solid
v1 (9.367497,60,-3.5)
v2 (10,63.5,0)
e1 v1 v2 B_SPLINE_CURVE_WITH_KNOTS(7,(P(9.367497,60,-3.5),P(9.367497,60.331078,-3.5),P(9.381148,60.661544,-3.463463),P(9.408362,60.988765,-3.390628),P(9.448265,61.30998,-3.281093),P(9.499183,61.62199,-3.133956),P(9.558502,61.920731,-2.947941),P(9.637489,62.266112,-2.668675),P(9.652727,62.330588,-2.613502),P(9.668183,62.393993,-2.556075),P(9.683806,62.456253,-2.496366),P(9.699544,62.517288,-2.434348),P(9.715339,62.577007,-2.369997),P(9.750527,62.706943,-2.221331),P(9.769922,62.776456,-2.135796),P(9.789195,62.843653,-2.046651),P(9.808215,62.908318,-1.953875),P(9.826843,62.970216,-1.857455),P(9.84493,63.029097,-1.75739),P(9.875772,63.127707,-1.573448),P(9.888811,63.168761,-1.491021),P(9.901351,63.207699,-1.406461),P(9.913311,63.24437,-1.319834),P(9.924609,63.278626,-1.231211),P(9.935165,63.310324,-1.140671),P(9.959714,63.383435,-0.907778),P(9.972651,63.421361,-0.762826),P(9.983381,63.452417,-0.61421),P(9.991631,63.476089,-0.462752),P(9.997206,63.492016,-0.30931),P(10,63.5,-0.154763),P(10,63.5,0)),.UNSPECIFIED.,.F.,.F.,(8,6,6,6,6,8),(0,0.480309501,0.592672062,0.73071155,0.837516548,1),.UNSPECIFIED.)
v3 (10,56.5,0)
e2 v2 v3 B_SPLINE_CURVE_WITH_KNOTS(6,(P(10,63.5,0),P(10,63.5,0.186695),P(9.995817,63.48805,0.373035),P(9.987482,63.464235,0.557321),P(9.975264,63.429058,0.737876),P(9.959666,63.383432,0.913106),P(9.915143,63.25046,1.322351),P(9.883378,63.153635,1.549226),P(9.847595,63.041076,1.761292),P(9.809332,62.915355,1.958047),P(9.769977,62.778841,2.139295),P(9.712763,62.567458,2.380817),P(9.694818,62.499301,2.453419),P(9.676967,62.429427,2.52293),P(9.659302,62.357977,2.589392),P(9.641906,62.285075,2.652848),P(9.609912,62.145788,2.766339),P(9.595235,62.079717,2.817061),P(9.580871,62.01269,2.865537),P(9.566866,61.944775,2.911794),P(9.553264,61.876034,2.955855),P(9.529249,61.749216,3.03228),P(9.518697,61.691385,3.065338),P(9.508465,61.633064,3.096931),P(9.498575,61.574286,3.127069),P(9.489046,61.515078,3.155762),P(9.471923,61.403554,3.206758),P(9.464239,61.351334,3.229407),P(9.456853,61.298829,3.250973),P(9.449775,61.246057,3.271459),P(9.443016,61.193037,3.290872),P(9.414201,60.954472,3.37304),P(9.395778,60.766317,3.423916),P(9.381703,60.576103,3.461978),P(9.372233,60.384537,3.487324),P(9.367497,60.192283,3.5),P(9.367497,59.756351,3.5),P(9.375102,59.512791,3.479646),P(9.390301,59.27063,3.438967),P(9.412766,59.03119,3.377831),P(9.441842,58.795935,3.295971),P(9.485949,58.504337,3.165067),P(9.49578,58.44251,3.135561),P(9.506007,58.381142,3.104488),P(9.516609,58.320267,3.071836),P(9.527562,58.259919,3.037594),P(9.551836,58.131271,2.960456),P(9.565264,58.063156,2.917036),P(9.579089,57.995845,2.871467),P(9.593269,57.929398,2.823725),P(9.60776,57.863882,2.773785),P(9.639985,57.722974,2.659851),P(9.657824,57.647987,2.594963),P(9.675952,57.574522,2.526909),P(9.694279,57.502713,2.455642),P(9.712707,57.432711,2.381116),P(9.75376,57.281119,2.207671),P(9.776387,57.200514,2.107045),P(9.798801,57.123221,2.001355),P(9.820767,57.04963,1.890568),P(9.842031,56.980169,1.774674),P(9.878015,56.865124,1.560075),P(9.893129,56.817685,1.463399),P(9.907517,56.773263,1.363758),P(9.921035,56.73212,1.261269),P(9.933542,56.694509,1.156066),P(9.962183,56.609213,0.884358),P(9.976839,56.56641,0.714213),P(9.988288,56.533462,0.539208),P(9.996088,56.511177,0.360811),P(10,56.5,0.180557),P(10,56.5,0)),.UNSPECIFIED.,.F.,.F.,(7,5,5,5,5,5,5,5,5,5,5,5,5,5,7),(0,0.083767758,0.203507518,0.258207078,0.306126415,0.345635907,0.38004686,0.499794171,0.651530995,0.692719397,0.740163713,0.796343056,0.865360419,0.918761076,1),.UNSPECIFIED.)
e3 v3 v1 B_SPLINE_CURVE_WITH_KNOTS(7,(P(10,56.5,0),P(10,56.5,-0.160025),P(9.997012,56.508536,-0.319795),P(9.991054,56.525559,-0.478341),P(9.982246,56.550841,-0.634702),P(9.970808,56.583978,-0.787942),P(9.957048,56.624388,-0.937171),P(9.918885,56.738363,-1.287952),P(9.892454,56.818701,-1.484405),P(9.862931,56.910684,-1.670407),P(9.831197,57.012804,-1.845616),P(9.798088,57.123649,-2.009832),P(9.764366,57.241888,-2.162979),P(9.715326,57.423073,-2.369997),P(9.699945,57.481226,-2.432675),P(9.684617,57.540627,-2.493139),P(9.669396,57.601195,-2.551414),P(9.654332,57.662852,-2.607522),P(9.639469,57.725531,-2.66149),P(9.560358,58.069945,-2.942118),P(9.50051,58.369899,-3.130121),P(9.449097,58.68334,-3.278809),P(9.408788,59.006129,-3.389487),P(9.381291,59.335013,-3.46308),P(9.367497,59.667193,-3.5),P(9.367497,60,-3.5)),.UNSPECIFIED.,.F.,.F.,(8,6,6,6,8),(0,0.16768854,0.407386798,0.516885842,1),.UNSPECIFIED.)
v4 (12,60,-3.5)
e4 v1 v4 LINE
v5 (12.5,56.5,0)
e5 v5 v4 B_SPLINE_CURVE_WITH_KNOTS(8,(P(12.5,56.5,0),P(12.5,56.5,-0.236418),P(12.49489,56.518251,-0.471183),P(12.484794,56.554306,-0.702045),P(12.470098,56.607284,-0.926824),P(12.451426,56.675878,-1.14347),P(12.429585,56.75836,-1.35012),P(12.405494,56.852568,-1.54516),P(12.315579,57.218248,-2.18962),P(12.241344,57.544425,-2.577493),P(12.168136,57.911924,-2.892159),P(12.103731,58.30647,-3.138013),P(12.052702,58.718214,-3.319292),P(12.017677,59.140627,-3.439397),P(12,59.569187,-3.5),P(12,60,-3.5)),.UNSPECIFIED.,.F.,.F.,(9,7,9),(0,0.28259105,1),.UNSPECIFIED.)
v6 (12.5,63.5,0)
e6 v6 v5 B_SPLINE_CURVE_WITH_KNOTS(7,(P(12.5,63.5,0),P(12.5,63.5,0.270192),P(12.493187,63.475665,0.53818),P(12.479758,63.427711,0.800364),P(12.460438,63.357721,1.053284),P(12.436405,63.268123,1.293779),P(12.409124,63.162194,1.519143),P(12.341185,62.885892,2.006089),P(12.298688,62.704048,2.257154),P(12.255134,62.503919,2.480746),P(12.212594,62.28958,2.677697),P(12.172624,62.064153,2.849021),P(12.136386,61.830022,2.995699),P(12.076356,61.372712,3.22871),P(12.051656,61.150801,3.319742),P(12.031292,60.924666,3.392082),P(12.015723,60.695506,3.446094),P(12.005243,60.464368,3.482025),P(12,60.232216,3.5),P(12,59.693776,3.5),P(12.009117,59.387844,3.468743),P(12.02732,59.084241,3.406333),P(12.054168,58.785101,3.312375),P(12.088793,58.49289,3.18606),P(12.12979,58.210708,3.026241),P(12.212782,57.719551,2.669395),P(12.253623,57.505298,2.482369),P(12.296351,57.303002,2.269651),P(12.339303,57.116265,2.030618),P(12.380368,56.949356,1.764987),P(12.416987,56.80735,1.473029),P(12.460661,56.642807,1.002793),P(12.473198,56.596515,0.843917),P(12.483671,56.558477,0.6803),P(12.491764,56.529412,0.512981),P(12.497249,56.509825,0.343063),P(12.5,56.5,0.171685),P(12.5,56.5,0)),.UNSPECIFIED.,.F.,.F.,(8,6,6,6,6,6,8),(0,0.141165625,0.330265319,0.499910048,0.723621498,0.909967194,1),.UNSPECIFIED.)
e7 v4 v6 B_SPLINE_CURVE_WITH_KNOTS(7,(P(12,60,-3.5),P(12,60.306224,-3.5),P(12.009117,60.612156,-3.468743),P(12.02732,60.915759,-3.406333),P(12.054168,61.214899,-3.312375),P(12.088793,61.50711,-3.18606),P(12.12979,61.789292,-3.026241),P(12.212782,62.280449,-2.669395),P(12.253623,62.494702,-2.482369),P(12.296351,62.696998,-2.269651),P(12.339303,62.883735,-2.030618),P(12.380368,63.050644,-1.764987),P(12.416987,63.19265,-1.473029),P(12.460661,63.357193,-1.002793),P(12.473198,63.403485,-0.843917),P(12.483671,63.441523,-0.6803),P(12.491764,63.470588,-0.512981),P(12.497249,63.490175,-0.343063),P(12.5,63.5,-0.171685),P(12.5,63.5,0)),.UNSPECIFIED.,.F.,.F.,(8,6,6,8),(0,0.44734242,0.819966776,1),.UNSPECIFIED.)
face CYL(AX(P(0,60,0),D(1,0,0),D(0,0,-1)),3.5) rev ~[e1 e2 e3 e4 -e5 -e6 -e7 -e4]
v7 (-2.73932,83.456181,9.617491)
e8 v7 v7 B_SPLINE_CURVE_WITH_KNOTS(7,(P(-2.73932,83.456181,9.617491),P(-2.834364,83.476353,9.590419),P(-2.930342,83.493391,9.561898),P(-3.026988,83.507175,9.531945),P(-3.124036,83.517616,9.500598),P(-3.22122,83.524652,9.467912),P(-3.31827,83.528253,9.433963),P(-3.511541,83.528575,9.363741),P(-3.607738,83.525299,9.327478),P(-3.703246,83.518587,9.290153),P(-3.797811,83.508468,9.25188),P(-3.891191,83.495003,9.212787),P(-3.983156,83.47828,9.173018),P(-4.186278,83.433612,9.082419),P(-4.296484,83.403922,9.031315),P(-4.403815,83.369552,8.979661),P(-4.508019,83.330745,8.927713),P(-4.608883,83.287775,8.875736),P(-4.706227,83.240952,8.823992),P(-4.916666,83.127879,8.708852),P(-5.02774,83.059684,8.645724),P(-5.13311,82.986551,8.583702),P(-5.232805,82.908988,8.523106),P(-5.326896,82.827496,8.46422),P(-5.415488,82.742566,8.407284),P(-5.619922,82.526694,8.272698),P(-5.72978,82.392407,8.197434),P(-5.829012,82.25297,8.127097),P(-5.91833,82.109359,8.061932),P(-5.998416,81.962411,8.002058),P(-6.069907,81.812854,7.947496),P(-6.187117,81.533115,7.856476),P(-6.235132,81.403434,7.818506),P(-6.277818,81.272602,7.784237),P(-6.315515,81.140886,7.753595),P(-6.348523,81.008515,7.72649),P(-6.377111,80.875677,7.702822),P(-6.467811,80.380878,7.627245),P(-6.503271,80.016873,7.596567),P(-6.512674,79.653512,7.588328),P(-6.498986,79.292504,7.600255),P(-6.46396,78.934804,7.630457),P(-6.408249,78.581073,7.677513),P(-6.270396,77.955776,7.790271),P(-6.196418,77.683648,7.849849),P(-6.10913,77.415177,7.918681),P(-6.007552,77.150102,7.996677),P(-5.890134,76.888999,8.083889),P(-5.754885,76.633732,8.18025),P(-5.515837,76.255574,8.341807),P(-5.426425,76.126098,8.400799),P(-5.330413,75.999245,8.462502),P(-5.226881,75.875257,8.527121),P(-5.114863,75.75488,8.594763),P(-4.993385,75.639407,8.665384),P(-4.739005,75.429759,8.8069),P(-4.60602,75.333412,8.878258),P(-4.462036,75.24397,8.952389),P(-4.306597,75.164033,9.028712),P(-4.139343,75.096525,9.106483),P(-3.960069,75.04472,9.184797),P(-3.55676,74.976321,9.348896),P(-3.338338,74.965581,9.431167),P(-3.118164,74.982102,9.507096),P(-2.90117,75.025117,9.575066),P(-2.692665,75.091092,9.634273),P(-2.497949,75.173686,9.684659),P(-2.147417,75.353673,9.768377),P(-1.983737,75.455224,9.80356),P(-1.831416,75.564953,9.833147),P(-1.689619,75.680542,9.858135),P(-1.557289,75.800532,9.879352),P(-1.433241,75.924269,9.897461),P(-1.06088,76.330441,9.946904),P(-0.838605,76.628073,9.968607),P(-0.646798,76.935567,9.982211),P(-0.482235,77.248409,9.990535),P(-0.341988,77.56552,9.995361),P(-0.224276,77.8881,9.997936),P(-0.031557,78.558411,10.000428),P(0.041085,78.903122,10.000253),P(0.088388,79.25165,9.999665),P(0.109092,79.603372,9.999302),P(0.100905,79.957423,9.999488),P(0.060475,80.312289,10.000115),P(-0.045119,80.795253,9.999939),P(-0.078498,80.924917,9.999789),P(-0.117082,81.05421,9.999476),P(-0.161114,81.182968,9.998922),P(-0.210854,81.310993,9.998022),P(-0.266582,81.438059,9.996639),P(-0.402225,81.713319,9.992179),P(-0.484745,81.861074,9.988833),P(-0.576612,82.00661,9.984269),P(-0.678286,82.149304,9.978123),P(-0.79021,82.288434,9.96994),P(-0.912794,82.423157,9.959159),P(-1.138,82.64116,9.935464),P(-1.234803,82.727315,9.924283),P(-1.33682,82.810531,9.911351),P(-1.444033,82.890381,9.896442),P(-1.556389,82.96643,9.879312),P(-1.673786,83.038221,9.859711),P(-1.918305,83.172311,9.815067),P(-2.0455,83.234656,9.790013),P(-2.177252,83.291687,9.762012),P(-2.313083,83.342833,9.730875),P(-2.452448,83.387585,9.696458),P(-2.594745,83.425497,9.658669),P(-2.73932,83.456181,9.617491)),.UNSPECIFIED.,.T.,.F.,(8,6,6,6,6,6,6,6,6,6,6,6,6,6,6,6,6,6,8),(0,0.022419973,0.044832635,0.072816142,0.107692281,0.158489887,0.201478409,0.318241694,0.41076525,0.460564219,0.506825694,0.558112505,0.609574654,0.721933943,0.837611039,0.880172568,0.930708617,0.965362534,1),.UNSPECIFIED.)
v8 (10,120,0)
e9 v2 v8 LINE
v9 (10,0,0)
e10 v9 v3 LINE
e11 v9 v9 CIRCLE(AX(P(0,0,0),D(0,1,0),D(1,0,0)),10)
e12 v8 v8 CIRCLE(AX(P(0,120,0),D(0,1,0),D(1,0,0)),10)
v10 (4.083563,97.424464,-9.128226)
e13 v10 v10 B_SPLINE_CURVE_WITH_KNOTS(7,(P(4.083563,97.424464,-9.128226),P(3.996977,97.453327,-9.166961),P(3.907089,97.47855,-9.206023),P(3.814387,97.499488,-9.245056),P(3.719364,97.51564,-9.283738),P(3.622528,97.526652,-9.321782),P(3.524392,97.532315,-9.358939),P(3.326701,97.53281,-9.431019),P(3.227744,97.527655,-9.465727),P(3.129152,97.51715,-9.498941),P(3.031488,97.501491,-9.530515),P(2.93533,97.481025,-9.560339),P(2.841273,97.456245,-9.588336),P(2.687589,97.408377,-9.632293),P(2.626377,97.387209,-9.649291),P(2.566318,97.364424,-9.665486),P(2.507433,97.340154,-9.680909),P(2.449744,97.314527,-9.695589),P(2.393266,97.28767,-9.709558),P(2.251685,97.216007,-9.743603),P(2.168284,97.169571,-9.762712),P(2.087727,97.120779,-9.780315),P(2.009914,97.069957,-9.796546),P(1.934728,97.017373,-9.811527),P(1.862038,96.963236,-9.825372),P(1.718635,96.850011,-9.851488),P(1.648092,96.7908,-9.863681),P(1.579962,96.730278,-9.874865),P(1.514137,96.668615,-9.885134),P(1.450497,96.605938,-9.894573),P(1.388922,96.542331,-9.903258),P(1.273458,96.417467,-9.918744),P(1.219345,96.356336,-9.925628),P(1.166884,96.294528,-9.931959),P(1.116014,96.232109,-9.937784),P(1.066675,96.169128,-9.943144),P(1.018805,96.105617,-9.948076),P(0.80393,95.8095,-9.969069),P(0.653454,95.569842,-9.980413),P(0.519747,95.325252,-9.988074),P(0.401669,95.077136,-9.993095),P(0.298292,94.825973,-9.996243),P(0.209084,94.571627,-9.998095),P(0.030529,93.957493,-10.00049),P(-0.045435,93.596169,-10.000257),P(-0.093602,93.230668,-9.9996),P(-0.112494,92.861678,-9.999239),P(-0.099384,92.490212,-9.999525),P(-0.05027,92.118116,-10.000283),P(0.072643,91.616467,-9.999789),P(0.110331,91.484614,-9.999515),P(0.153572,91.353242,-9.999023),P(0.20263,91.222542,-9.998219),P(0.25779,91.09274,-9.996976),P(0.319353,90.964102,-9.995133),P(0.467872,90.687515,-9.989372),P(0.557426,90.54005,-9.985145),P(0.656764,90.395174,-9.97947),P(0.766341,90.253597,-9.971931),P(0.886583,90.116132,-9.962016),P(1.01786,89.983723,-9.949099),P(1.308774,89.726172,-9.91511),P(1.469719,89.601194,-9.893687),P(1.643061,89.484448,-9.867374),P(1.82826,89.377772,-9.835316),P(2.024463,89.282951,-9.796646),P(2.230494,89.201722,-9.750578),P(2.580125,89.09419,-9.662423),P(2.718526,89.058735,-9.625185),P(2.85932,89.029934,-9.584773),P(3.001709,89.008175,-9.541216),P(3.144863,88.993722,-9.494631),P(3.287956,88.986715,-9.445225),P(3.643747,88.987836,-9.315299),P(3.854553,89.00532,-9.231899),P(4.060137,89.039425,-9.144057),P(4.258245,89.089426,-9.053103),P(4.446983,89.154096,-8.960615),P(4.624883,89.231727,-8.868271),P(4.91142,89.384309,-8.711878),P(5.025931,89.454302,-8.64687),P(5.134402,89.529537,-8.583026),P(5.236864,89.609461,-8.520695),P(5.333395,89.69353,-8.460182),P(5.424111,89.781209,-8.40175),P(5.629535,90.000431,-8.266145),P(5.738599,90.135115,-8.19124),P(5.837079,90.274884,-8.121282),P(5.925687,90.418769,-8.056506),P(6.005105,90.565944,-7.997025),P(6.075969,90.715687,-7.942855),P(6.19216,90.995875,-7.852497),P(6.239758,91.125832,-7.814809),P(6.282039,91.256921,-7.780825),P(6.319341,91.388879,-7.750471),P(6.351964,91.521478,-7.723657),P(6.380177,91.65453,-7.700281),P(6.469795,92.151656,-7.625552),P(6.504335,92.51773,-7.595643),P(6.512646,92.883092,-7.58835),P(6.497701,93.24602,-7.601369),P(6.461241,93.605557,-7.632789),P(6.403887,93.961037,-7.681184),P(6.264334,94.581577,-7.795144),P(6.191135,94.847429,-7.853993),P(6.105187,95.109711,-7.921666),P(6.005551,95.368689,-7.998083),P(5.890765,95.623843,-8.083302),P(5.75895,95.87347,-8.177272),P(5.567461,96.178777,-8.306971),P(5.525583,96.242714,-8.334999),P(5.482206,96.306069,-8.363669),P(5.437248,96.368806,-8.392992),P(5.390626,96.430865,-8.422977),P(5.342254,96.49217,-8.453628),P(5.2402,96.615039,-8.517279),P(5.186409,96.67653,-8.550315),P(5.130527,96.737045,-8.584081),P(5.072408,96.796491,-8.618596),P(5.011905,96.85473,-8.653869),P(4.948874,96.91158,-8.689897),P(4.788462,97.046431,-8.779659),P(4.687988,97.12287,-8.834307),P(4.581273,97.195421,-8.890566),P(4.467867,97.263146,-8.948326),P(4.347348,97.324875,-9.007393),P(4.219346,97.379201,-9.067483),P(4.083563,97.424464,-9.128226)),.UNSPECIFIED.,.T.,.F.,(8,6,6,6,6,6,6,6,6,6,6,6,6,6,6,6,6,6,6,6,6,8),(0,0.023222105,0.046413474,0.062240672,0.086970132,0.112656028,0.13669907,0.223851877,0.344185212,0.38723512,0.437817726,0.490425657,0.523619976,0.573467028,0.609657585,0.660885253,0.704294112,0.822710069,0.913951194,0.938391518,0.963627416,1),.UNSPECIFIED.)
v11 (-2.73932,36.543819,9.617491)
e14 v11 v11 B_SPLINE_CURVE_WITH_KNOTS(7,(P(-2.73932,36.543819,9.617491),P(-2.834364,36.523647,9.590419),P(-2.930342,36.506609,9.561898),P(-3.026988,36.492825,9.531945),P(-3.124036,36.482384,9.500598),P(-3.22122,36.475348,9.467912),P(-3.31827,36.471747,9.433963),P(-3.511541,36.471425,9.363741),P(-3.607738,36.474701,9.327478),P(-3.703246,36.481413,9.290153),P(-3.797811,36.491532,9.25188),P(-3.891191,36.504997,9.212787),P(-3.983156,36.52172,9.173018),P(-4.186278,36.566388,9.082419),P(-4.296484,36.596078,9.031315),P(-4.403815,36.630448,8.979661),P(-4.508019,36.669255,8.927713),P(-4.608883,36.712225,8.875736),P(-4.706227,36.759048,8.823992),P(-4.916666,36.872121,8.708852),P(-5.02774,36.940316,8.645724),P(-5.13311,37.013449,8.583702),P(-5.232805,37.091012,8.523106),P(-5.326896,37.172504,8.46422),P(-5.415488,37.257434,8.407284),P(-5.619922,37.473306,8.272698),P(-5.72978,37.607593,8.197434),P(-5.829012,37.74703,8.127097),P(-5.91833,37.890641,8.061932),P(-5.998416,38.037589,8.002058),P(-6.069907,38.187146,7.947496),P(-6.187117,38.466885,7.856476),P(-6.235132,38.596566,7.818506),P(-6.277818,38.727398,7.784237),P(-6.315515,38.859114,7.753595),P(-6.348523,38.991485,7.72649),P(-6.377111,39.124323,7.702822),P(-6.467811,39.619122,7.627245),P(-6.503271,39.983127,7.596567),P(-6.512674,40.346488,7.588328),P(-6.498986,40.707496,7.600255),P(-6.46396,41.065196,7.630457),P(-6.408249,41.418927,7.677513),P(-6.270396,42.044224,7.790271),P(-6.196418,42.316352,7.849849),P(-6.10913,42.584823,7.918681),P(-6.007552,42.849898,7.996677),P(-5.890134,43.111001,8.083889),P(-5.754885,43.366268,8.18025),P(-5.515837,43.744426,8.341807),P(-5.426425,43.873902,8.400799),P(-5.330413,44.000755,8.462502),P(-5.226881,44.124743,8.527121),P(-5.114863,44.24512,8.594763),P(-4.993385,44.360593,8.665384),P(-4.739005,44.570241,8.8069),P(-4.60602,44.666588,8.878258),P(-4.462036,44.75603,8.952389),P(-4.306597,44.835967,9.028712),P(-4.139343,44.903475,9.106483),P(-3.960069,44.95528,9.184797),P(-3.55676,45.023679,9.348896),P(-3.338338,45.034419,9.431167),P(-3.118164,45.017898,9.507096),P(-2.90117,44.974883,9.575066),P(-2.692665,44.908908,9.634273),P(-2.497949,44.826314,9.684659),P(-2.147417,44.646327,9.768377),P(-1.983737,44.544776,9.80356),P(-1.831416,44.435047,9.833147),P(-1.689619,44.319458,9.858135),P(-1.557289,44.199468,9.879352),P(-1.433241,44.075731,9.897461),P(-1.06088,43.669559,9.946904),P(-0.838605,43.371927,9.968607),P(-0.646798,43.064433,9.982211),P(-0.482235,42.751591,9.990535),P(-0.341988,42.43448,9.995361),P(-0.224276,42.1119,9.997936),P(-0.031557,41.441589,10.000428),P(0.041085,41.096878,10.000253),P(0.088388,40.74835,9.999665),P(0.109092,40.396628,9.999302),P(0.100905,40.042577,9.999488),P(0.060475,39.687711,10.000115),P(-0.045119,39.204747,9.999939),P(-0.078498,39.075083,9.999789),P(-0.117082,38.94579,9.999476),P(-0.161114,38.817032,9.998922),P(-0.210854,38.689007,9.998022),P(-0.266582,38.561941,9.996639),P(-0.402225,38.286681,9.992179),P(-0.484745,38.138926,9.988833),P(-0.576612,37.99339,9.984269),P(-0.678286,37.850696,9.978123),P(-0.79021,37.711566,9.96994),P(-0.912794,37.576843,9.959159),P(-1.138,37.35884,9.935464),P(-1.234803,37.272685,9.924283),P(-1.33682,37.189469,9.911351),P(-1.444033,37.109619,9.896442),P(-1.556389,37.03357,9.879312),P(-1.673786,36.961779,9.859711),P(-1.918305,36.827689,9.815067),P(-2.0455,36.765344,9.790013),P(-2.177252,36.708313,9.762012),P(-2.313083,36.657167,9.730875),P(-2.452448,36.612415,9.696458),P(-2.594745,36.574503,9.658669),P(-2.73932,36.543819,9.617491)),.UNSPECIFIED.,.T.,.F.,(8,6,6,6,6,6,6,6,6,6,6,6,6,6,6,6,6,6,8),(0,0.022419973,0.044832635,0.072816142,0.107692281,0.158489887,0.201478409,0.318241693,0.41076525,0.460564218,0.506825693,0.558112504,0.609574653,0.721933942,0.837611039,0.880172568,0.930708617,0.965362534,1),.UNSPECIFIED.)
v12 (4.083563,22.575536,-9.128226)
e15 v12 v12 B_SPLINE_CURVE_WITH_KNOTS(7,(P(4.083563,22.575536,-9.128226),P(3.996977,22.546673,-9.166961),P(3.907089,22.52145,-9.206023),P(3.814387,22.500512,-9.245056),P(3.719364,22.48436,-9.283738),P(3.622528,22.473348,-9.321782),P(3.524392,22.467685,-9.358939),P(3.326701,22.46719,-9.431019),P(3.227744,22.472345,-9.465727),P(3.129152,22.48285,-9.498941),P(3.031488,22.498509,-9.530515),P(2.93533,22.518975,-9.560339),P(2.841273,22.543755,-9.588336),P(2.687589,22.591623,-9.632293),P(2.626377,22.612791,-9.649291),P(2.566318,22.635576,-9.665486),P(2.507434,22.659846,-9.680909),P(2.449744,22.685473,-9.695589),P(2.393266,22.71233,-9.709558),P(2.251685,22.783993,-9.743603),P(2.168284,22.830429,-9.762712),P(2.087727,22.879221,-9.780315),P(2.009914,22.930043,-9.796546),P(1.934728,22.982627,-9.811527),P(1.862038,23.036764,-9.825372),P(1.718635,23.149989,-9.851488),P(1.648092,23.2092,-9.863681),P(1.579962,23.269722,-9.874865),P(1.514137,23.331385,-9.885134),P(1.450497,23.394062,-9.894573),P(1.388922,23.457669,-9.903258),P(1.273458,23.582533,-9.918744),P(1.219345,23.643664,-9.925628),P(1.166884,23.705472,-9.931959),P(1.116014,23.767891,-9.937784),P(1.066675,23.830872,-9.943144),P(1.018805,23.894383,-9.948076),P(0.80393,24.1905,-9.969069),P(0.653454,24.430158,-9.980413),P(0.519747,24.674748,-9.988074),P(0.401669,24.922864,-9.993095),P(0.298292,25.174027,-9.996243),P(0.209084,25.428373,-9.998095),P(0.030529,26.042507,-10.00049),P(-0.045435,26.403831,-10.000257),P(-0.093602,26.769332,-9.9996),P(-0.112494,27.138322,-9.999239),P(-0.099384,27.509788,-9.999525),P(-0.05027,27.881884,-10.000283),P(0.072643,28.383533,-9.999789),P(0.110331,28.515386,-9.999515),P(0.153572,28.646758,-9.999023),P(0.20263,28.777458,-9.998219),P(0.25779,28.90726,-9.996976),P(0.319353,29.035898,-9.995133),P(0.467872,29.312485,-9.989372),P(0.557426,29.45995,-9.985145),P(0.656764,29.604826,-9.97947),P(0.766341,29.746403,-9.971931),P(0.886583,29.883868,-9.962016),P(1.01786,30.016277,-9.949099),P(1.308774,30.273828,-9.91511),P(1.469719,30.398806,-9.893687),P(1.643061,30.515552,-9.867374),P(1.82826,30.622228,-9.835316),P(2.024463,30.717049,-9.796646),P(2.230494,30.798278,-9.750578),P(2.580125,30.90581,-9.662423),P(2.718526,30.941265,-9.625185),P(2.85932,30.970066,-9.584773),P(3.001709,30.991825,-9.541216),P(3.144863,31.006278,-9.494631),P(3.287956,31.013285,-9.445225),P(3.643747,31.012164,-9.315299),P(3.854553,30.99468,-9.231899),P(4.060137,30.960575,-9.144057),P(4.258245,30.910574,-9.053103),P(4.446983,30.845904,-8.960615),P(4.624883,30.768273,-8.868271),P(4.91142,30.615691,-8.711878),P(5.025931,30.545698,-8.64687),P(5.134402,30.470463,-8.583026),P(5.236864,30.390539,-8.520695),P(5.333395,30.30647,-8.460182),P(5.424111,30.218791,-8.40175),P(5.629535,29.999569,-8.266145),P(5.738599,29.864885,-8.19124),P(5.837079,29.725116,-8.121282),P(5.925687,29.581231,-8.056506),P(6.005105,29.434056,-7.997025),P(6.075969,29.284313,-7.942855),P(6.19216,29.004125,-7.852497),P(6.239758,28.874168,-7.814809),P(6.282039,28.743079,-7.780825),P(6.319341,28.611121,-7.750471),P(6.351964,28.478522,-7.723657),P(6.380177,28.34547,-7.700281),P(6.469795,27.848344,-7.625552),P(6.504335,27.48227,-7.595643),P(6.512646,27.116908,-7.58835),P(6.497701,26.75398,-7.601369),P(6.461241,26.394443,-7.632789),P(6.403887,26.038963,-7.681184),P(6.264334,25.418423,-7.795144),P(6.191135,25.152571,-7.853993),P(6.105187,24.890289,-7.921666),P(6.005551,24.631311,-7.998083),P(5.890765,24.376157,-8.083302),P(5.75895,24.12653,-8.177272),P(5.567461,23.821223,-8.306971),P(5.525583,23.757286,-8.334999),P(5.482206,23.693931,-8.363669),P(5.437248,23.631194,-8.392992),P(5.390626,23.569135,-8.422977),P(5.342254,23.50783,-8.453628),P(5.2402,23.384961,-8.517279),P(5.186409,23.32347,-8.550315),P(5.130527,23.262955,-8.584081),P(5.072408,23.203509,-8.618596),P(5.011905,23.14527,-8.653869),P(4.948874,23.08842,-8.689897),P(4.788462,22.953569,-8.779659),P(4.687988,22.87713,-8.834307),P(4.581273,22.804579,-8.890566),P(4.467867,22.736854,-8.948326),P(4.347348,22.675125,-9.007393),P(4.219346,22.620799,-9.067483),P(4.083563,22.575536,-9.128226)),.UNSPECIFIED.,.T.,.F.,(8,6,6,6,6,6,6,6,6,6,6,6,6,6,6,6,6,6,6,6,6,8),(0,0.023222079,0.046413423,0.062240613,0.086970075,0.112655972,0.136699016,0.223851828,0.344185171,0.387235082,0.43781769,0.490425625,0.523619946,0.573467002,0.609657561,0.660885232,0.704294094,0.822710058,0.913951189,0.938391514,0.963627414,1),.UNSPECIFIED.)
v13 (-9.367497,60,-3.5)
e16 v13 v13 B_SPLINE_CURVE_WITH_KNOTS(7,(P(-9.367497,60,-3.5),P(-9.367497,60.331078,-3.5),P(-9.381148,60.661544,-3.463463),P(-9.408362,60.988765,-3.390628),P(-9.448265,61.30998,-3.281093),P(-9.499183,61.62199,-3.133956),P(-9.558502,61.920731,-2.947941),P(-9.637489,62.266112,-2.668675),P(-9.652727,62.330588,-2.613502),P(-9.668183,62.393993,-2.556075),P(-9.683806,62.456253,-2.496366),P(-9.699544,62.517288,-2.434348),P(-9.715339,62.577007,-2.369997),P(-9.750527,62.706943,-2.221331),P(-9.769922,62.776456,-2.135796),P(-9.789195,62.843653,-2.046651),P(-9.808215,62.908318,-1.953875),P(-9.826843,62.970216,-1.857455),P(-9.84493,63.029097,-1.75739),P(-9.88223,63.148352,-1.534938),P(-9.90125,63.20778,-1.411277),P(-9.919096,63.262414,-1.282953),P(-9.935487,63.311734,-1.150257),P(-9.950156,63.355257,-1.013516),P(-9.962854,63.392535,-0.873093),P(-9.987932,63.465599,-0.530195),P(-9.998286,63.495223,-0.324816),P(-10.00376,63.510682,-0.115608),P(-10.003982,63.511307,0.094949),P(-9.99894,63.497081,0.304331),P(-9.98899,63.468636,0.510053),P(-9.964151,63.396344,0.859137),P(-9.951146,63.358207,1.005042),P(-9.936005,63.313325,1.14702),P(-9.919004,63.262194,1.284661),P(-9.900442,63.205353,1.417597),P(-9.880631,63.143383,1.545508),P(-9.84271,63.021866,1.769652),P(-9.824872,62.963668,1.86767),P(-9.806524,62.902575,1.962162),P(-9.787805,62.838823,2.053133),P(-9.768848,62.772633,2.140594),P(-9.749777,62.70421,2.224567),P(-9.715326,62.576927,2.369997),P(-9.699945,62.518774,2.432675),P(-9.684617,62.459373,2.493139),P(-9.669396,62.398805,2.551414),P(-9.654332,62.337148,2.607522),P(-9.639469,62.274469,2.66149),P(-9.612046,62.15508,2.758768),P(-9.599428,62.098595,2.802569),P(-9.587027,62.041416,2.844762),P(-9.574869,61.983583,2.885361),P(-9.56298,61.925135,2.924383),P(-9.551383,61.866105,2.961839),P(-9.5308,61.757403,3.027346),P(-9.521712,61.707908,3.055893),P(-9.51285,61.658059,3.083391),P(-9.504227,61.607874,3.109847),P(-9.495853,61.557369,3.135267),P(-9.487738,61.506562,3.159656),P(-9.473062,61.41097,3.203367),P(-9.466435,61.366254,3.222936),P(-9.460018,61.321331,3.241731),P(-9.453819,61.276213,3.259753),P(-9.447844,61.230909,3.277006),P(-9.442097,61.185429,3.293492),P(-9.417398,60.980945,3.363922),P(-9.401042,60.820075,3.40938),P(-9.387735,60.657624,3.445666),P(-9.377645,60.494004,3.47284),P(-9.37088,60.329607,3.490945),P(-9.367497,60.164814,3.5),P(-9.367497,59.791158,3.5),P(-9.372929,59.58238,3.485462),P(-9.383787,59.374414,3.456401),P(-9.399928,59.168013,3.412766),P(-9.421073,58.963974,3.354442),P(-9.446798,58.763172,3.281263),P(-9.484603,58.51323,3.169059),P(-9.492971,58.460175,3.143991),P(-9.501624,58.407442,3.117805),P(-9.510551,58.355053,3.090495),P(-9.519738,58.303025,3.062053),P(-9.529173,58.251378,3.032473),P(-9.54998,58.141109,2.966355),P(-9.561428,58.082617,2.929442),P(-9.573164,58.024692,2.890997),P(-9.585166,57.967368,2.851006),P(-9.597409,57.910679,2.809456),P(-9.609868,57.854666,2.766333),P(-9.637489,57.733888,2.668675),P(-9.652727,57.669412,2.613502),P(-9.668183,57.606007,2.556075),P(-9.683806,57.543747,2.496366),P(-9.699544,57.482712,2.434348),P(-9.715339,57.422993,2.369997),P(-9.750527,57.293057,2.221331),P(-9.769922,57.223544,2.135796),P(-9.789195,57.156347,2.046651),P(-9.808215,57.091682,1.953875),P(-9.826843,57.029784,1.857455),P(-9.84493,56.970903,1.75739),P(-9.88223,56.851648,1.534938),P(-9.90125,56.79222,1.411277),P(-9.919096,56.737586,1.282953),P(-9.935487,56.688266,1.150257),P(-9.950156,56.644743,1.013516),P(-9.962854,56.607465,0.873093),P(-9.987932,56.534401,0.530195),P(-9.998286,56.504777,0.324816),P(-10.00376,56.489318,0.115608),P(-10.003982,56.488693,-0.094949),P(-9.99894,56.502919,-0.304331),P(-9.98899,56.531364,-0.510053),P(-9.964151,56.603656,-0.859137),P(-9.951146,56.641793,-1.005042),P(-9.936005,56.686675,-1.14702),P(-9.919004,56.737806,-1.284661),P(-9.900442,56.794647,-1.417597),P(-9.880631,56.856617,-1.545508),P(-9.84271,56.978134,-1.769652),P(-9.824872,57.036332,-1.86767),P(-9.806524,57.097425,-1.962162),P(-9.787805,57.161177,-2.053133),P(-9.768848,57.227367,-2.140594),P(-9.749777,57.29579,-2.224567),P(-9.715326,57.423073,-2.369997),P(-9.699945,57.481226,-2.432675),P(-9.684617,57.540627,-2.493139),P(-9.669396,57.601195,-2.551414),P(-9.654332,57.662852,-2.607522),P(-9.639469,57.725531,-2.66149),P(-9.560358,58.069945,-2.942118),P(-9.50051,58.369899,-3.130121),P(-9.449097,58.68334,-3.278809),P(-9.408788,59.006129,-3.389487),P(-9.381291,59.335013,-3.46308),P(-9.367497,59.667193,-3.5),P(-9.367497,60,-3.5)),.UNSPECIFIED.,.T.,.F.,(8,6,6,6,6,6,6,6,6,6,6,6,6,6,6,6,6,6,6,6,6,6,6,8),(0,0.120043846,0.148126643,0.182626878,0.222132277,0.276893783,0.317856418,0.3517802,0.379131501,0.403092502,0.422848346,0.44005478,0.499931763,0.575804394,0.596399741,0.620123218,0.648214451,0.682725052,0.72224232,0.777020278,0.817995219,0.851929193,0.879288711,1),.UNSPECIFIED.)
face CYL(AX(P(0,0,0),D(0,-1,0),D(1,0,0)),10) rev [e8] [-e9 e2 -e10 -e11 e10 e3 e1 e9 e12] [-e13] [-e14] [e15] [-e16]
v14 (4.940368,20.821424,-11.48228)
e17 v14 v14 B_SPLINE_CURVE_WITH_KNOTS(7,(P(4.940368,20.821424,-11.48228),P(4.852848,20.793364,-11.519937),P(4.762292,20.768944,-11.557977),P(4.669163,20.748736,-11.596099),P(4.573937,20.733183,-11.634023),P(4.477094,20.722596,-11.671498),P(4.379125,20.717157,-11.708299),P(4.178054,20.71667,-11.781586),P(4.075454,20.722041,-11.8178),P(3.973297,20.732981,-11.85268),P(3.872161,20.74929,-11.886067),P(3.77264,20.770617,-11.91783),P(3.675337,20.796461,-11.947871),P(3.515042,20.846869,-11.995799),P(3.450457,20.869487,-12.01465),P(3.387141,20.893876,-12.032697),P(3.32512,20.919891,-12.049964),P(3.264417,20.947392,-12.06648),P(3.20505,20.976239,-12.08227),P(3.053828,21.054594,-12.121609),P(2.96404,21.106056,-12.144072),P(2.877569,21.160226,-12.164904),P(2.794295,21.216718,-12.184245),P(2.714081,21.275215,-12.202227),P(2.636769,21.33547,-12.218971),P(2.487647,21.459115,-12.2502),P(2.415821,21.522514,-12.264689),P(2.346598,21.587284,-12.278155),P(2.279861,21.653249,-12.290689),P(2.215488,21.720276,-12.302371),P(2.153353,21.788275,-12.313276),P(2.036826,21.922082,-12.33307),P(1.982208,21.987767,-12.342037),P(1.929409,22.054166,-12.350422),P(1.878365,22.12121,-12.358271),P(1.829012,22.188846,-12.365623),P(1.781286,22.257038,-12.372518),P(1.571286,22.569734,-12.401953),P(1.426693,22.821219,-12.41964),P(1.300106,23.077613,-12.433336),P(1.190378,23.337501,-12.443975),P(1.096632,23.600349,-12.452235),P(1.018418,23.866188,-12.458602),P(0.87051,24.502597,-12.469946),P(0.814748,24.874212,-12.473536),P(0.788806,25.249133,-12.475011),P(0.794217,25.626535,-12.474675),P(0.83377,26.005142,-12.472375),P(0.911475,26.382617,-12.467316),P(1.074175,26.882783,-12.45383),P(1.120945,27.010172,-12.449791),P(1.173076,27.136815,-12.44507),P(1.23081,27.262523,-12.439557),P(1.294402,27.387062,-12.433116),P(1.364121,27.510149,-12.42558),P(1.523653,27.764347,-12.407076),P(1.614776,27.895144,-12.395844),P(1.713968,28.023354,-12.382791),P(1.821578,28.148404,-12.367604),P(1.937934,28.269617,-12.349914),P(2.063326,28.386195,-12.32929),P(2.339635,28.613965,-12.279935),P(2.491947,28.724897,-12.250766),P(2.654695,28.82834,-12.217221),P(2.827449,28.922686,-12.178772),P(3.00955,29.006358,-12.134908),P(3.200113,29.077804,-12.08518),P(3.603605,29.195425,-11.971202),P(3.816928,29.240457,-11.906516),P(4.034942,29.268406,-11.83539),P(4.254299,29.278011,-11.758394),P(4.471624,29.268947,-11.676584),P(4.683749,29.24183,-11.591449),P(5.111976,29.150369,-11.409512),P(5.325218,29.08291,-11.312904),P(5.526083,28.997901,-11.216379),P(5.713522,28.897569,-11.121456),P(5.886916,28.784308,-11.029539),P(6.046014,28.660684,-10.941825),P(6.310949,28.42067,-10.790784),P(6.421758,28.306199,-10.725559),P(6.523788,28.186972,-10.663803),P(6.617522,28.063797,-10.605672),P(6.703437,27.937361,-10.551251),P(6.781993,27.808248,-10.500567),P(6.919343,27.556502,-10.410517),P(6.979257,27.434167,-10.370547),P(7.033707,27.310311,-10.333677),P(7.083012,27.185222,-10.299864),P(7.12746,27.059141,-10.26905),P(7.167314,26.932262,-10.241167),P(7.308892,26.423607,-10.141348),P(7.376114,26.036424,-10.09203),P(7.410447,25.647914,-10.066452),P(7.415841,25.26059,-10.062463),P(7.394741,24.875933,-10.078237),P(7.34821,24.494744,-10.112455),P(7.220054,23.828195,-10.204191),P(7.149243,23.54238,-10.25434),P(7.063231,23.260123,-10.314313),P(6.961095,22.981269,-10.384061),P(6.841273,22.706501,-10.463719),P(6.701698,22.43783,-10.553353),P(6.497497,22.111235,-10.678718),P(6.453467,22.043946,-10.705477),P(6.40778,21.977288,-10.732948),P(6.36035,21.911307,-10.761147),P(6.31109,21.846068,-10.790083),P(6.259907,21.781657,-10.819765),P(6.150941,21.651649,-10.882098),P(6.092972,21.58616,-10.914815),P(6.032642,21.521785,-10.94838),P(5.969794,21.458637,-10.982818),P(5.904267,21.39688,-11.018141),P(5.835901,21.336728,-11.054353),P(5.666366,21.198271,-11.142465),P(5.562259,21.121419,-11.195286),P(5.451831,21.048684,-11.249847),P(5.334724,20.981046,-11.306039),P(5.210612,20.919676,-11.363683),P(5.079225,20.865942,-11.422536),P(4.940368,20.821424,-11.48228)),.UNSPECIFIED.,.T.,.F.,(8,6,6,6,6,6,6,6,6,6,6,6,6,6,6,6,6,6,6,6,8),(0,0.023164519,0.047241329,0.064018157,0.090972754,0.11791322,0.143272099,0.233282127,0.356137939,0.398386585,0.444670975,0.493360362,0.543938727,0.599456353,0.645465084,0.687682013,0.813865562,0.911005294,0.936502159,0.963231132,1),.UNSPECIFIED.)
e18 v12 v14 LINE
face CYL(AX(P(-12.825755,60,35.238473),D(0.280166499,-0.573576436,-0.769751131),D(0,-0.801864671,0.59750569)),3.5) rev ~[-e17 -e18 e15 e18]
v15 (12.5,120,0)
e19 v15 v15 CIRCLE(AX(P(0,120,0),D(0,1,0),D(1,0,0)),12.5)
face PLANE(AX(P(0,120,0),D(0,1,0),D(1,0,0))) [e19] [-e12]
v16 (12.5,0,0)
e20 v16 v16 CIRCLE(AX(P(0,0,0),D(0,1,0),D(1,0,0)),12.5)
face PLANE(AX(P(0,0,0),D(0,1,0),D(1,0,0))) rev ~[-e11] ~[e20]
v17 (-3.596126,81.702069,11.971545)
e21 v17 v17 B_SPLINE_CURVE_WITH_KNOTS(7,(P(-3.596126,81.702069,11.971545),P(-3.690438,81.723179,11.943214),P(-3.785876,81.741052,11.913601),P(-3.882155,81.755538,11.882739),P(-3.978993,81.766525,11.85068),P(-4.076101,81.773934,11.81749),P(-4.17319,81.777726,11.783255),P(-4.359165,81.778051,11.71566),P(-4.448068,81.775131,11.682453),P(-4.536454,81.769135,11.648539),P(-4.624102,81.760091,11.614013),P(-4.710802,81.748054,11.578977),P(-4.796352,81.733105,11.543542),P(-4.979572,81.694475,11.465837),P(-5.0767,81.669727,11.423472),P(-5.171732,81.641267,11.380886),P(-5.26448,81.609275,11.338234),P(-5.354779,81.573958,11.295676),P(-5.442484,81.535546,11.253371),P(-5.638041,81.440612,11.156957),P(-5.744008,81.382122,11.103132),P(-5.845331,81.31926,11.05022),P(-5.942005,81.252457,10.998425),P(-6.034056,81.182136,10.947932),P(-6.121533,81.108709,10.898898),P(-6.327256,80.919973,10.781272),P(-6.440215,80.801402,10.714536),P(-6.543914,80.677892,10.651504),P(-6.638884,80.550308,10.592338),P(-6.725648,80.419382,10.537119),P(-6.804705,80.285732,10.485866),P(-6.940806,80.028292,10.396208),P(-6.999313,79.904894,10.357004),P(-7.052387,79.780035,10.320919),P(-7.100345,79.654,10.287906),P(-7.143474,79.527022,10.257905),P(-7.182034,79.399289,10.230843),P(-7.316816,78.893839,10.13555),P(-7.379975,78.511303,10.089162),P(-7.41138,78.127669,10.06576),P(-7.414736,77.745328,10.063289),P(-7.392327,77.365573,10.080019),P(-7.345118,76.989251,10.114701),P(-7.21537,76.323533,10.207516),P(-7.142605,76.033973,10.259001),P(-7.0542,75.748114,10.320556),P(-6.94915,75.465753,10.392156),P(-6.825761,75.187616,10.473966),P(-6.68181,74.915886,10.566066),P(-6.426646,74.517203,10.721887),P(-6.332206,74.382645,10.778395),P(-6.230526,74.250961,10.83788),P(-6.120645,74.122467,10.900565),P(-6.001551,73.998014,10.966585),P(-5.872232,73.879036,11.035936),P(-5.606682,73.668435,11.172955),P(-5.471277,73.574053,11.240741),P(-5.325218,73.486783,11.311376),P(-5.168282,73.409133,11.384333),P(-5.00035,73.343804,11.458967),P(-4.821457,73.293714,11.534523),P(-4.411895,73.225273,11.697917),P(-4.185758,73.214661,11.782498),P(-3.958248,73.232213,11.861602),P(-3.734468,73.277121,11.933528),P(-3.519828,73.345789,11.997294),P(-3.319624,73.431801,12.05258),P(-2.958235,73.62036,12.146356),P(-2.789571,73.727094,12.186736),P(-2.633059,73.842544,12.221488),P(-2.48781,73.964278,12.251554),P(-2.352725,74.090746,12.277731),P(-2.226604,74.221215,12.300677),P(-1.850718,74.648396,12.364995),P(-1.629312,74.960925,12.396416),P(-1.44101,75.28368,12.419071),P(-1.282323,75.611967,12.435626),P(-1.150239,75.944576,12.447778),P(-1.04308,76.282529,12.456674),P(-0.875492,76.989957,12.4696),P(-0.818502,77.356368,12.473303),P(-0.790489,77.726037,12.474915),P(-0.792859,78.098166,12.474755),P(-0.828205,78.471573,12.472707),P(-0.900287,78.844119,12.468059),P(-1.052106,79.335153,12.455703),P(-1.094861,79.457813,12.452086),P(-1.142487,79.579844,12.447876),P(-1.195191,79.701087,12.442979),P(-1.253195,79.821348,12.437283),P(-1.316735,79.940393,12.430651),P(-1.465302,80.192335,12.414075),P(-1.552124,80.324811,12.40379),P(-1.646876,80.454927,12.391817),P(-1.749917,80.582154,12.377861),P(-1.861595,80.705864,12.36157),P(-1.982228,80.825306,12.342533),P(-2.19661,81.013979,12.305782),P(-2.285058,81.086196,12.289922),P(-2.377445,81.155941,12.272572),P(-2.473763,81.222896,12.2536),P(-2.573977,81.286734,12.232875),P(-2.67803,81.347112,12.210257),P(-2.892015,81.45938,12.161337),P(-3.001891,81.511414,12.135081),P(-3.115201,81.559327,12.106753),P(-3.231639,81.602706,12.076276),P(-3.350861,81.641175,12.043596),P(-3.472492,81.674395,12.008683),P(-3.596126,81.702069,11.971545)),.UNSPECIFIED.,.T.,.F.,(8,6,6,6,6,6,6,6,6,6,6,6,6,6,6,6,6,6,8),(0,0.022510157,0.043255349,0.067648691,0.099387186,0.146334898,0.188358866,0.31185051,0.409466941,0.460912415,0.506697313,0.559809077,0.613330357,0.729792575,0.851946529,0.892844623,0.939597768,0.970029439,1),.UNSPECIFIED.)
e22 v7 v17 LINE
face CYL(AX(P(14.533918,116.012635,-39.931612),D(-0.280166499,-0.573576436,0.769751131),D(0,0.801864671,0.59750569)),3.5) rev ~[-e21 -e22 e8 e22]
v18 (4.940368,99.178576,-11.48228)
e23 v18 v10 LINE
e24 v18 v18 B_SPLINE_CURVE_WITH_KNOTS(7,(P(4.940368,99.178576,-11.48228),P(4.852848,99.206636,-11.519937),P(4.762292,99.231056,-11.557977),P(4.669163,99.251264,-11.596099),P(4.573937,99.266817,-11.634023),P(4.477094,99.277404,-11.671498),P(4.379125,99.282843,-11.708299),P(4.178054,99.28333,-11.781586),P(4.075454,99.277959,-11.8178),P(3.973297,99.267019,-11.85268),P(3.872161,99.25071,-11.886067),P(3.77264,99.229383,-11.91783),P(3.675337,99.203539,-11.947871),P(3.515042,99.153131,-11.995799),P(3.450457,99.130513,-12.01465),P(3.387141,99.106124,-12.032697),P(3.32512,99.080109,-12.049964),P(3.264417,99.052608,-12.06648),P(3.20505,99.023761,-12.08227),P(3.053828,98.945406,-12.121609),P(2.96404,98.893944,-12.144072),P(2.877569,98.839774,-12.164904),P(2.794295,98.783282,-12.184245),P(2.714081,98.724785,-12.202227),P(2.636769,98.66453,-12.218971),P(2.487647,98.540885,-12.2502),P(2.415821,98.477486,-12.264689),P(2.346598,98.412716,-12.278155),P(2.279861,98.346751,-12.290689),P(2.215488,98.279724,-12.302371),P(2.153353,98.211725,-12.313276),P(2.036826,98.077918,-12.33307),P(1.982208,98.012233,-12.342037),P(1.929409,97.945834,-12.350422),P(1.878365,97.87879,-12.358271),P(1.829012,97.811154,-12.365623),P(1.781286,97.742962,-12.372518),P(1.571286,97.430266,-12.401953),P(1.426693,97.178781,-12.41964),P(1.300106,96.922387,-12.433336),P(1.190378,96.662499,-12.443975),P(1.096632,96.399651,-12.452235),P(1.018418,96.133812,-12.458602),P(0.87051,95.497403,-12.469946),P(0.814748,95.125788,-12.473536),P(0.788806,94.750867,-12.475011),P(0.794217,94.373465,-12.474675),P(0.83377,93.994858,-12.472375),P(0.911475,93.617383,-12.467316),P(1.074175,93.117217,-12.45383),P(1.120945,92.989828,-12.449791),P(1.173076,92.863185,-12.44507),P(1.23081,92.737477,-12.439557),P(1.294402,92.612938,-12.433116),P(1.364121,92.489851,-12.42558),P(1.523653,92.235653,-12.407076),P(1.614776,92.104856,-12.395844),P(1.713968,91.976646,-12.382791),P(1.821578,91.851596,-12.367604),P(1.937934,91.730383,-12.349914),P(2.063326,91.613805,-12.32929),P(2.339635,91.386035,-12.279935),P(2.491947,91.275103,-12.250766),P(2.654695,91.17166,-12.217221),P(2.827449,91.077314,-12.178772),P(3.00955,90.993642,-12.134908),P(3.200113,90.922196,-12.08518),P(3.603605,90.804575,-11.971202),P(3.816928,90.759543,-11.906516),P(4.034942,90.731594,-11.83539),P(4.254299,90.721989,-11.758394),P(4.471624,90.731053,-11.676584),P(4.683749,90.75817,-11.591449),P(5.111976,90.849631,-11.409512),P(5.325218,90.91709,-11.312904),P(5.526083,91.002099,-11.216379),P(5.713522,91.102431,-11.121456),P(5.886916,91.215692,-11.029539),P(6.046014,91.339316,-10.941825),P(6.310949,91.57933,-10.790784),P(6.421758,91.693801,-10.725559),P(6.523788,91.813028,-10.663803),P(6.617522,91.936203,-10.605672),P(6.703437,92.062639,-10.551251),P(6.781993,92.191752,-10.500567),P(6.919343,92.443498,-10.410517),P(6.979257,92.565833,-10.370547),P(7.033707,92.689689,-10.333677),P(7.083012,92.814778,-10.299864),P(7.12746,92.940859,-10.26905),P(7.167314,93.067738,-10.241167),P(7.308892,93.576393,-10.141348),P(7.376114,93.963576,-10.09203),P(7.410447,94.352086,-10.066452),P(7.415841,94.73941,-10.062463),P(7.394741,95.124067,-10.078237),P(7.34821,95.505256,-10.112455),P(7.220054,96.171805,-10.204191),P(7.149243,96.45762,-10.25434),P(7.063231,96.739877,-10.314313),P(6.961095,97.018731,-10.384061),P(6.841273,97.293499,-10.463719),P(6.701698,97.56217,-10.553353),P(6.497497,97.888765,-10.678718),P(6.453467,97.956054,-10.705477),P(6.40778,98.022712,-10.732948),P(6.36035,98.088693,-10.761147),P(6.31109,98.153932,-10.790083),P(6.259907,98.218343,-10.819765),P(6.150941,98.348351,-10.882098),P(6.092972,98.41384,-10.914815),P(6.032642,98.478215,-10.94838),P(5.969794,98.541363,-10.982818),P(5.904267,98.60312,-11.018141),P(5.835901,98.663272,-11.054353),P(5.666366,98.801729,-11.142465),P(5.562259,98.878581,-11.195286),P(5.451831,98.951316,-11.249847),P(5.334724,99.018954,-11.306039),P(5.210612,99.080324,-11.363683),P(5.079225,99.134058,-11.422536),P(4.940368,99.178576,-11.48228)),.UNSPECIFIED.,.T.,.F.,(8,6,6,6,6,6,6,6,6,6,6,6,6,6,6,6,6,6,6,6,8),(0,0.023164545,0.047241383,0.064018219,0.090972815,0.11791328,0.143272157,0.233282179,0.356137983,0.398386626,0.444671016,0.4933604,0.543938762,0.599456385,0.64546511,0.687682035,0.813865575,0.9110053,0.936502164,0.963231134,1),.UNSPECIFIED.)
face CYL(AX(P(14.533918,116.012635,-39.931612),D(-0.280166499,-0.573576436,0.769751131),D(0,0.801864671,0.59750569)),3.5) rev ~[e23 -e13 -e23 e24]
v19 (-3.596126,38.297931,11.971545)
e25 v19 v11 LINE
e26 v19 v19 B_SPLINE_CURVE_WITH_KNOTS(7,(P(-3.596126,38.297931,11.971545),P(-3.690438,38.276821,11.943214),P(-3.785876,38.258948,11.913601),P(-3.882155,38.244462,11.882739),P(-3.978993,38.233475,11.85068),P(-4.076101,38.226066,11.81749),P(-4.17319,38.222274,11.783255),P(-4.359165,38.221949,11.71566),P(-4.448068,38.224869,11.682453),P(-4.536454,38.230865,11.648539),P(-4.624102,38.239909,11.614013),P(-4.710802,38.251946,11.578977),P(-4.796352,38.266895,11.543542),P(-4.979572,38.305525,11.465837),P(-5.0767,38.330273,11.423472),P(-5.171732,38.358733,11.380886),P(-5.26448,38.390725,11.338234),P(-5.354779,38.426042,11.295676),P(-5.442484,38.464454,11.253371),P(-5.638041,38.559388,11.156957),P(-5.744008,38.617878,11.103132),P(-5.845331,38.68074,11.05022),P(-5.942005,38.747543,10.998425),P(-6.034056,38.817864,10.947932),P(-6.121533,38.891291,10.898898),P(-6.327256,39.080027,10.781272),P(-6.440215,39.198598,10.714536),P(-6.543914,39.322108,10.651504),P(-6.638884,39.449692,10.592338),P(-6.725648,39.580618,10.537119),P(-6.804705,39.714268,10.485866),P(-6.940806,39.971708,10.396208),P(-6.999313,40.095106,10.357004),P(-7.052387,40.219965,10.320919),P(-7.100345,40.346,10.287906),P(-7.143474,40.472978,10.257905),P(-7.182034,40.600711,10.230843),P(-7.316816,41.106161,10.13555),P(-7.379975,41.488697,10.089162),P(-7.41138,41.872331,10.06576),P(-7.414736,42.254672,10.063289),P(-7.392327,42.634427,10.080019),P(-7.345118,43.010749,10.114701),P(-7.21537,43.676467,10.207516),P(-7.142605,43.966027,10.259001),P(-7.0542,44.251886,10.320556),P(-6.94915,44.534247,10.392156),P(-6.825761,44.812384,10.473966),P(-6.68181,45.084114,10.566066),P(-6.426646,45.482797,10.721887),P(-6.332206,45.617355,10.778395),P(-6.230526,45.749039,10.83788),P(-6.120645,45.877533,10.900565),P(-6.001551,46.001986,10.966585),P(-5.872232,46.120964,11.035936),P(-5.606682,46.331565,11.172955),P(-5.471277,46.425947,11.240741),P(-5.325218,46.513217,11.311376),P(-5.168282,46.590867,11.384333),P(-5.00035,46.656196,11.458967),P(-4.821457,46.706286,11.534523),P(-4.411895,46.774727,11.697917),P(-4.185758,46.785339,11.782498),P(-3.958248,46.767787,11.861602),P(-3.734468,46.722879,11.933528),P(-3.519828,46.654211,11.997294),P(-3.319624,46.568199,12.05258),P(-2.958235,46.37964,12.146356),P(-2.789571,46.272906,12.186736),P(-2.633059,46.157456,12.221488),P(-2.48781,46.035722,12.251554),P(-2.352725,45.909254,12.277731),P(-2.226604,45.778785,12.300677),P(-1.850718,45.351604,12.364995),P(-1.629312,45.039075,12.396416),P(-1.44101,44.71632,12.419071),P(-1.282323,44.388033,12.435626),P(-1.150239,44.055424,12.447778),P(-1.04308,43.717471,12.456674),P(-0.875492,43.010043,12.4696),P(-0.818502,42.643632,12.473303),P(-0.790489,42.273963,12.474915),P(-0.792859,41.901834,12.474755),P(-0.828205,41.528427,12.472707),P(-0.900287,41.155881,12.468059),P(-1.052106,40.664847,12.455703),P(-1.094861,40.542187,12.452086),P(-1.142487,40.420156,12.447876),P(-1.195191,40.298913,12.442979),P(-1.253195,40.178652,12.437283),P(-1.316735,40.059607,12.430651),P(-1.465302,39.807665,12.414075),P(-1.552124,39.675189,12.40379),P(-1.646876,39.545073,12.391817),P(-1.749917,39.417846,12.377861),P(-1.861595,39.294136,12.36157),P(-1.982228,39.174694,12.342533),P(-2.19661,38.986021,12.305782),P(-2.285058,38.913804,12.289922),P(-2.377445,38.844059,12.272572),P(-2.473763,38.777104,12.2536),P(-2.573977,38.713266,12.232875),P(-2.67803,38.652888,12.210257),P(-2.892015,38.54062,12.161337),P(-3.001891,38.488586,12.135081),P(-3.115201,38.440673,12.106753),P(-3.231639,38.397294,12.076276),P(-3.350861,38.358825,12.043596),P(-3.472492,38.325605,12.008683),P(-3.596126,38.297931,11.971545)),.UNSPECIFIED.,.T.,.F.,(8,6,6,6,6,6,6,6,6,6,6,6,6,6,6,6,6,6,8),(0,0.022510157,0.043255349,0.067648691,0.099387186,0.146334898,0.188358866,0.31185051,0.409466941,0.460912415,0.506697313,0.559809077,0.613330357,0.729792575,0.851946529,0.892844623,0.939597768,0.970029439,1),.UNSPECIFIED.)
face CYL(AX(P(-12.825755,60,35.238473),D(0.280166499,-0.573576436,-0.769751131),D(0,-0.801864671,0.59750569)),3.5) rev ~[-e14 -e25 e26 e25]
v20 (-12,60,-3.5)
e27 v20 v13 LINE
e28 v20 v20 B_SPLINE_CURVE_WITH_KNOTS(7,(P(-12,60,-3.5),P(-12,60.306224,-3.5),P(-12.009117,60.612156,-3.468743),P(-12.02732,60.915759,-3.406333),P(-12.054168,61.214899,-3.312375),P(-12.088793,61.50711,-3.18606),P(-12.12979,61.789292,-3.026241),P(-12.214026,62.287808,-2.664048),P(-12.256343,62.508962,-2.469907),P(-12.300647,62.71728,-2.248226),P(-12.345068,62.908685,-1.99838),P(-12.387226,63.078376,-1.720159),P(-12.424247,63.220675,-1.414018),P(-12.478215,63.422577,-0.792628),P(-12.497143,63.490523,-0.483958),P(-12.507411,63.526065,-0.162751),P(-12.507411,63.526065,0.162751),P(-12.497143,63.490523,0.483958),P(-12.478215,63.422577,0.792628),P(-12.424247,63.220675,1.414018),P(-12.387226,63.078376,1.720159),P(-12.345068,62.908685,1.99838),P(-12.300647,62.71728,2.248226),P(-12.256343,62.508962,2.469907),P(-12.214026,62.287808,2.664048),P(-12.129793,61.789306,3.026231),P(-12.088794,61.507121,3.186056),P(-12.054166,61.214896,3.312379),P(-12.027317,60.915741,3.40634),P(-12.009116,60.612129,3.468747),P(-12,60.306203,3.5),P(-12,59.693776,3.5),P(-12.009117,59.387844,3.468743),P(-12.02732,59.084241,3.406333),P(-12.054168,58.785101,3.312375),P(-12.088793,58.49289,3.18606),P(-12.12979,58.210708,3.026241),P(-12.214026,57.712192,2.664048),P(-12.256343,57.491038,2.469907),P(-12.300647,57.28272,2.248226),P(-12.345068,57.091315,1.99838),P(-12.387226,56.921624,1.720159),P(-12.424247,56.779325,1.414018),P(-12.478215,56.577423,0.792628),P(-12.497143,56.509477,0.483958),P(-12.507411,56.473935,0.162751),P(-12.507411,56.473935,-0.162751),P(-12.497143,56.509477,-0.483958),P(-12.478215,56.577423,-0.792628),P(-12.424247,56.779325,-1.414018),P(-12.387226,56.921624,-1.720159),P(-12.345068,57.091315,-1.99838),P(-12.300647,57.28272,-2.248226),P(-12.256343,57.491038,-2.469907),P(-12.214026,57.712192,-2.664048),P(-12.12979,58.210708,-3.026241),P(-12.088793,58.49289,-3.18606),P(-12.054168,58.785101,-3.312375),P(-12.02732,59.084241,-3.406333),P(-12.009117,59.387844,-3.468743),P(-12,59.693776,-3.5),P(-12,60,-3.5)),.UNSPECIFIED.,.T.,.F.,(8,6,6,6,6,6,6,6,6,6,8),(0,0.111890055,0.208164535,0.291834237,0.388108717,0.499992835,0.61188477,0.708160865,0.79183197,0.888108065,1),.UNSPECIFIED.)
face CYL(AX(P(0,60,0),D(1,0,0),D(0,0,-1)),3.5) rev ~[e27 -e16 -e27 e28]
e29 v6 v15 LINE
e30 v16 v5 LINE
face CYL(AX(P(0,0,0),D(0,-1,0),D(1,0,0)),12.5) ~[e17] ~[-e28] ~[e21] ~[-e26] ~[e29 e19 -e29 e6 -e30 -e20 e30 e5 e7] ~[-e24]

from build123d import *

# Parameters (mm, degrees)
SKETCH_1_R          = 12.5
SKETCH_1_R_2        = 10
EXTRUDE_1_DEPTH     = 120
SKETCH_2_R          = 3.5
CUT_EXTRUDE_1_DEPTH = 12.5
SWEEP_3_PROFILE_R   = 3.5


with BuildPart() as part:
    # 草图1 → 凸台-拉伸1 (new body)
    with BuildSketch(Plane(origin=(0, 0, 0), x_dir=(1, 0, 0), z_dir=(0, 1, 0))):
        Circle(SKETCH_1_R)
        Circle(SKETCH_1_R_2, mode=Mode.SUBTRACT)
    extrude(amount=EXTRUDE_1_DEPTH)

    # 草图2 → 切除-拉伸1 (cut, symmetric)
    with BuildSketch(Plane(origin=(0, 0, 0), x_dir=(0, 0, -1), z_dir=(1, 0, 0))):
        with Locations((0, 60)):
            Circle(SKETCH_2_R)
    extrude(amount=CUT_EXTRUDE_1_DEPTH, both=True, mode=Mode.SUBTRACT)

    # 切除-扫描3: sweep along a path in 草图10
    with BuildLine(Plane(origin=(0, 0, 0), x_dir=(0.342020143, 0, -0.939692621), z_dir=(0.939692621, 0, 0.342020143))) as sweep_3_path:
        Line((42.494333557, 116.01263537), (-37.5, 60))
        Line((-37.5, 60), (79.181849156, -21.701510351))
    # 切除-扫描3 profile (on start of the path) → 切除-扫描3 (sweep, cut)
    with BuildSketch(Plane(origin=(14.533918054, 116.01263537, -39.931611668), x_dir=(0, 0.801864671, 0.59750569), z_dir=(-0.2801665, -0.573576436, 0.769751131))):
        Circle(SWEEP_3_PROFILE_R)
    sweep(path=sweep_3_path.line, transition=Transition.RIGHT, mode=Mode.SUBTRACT)


solid = part.part
